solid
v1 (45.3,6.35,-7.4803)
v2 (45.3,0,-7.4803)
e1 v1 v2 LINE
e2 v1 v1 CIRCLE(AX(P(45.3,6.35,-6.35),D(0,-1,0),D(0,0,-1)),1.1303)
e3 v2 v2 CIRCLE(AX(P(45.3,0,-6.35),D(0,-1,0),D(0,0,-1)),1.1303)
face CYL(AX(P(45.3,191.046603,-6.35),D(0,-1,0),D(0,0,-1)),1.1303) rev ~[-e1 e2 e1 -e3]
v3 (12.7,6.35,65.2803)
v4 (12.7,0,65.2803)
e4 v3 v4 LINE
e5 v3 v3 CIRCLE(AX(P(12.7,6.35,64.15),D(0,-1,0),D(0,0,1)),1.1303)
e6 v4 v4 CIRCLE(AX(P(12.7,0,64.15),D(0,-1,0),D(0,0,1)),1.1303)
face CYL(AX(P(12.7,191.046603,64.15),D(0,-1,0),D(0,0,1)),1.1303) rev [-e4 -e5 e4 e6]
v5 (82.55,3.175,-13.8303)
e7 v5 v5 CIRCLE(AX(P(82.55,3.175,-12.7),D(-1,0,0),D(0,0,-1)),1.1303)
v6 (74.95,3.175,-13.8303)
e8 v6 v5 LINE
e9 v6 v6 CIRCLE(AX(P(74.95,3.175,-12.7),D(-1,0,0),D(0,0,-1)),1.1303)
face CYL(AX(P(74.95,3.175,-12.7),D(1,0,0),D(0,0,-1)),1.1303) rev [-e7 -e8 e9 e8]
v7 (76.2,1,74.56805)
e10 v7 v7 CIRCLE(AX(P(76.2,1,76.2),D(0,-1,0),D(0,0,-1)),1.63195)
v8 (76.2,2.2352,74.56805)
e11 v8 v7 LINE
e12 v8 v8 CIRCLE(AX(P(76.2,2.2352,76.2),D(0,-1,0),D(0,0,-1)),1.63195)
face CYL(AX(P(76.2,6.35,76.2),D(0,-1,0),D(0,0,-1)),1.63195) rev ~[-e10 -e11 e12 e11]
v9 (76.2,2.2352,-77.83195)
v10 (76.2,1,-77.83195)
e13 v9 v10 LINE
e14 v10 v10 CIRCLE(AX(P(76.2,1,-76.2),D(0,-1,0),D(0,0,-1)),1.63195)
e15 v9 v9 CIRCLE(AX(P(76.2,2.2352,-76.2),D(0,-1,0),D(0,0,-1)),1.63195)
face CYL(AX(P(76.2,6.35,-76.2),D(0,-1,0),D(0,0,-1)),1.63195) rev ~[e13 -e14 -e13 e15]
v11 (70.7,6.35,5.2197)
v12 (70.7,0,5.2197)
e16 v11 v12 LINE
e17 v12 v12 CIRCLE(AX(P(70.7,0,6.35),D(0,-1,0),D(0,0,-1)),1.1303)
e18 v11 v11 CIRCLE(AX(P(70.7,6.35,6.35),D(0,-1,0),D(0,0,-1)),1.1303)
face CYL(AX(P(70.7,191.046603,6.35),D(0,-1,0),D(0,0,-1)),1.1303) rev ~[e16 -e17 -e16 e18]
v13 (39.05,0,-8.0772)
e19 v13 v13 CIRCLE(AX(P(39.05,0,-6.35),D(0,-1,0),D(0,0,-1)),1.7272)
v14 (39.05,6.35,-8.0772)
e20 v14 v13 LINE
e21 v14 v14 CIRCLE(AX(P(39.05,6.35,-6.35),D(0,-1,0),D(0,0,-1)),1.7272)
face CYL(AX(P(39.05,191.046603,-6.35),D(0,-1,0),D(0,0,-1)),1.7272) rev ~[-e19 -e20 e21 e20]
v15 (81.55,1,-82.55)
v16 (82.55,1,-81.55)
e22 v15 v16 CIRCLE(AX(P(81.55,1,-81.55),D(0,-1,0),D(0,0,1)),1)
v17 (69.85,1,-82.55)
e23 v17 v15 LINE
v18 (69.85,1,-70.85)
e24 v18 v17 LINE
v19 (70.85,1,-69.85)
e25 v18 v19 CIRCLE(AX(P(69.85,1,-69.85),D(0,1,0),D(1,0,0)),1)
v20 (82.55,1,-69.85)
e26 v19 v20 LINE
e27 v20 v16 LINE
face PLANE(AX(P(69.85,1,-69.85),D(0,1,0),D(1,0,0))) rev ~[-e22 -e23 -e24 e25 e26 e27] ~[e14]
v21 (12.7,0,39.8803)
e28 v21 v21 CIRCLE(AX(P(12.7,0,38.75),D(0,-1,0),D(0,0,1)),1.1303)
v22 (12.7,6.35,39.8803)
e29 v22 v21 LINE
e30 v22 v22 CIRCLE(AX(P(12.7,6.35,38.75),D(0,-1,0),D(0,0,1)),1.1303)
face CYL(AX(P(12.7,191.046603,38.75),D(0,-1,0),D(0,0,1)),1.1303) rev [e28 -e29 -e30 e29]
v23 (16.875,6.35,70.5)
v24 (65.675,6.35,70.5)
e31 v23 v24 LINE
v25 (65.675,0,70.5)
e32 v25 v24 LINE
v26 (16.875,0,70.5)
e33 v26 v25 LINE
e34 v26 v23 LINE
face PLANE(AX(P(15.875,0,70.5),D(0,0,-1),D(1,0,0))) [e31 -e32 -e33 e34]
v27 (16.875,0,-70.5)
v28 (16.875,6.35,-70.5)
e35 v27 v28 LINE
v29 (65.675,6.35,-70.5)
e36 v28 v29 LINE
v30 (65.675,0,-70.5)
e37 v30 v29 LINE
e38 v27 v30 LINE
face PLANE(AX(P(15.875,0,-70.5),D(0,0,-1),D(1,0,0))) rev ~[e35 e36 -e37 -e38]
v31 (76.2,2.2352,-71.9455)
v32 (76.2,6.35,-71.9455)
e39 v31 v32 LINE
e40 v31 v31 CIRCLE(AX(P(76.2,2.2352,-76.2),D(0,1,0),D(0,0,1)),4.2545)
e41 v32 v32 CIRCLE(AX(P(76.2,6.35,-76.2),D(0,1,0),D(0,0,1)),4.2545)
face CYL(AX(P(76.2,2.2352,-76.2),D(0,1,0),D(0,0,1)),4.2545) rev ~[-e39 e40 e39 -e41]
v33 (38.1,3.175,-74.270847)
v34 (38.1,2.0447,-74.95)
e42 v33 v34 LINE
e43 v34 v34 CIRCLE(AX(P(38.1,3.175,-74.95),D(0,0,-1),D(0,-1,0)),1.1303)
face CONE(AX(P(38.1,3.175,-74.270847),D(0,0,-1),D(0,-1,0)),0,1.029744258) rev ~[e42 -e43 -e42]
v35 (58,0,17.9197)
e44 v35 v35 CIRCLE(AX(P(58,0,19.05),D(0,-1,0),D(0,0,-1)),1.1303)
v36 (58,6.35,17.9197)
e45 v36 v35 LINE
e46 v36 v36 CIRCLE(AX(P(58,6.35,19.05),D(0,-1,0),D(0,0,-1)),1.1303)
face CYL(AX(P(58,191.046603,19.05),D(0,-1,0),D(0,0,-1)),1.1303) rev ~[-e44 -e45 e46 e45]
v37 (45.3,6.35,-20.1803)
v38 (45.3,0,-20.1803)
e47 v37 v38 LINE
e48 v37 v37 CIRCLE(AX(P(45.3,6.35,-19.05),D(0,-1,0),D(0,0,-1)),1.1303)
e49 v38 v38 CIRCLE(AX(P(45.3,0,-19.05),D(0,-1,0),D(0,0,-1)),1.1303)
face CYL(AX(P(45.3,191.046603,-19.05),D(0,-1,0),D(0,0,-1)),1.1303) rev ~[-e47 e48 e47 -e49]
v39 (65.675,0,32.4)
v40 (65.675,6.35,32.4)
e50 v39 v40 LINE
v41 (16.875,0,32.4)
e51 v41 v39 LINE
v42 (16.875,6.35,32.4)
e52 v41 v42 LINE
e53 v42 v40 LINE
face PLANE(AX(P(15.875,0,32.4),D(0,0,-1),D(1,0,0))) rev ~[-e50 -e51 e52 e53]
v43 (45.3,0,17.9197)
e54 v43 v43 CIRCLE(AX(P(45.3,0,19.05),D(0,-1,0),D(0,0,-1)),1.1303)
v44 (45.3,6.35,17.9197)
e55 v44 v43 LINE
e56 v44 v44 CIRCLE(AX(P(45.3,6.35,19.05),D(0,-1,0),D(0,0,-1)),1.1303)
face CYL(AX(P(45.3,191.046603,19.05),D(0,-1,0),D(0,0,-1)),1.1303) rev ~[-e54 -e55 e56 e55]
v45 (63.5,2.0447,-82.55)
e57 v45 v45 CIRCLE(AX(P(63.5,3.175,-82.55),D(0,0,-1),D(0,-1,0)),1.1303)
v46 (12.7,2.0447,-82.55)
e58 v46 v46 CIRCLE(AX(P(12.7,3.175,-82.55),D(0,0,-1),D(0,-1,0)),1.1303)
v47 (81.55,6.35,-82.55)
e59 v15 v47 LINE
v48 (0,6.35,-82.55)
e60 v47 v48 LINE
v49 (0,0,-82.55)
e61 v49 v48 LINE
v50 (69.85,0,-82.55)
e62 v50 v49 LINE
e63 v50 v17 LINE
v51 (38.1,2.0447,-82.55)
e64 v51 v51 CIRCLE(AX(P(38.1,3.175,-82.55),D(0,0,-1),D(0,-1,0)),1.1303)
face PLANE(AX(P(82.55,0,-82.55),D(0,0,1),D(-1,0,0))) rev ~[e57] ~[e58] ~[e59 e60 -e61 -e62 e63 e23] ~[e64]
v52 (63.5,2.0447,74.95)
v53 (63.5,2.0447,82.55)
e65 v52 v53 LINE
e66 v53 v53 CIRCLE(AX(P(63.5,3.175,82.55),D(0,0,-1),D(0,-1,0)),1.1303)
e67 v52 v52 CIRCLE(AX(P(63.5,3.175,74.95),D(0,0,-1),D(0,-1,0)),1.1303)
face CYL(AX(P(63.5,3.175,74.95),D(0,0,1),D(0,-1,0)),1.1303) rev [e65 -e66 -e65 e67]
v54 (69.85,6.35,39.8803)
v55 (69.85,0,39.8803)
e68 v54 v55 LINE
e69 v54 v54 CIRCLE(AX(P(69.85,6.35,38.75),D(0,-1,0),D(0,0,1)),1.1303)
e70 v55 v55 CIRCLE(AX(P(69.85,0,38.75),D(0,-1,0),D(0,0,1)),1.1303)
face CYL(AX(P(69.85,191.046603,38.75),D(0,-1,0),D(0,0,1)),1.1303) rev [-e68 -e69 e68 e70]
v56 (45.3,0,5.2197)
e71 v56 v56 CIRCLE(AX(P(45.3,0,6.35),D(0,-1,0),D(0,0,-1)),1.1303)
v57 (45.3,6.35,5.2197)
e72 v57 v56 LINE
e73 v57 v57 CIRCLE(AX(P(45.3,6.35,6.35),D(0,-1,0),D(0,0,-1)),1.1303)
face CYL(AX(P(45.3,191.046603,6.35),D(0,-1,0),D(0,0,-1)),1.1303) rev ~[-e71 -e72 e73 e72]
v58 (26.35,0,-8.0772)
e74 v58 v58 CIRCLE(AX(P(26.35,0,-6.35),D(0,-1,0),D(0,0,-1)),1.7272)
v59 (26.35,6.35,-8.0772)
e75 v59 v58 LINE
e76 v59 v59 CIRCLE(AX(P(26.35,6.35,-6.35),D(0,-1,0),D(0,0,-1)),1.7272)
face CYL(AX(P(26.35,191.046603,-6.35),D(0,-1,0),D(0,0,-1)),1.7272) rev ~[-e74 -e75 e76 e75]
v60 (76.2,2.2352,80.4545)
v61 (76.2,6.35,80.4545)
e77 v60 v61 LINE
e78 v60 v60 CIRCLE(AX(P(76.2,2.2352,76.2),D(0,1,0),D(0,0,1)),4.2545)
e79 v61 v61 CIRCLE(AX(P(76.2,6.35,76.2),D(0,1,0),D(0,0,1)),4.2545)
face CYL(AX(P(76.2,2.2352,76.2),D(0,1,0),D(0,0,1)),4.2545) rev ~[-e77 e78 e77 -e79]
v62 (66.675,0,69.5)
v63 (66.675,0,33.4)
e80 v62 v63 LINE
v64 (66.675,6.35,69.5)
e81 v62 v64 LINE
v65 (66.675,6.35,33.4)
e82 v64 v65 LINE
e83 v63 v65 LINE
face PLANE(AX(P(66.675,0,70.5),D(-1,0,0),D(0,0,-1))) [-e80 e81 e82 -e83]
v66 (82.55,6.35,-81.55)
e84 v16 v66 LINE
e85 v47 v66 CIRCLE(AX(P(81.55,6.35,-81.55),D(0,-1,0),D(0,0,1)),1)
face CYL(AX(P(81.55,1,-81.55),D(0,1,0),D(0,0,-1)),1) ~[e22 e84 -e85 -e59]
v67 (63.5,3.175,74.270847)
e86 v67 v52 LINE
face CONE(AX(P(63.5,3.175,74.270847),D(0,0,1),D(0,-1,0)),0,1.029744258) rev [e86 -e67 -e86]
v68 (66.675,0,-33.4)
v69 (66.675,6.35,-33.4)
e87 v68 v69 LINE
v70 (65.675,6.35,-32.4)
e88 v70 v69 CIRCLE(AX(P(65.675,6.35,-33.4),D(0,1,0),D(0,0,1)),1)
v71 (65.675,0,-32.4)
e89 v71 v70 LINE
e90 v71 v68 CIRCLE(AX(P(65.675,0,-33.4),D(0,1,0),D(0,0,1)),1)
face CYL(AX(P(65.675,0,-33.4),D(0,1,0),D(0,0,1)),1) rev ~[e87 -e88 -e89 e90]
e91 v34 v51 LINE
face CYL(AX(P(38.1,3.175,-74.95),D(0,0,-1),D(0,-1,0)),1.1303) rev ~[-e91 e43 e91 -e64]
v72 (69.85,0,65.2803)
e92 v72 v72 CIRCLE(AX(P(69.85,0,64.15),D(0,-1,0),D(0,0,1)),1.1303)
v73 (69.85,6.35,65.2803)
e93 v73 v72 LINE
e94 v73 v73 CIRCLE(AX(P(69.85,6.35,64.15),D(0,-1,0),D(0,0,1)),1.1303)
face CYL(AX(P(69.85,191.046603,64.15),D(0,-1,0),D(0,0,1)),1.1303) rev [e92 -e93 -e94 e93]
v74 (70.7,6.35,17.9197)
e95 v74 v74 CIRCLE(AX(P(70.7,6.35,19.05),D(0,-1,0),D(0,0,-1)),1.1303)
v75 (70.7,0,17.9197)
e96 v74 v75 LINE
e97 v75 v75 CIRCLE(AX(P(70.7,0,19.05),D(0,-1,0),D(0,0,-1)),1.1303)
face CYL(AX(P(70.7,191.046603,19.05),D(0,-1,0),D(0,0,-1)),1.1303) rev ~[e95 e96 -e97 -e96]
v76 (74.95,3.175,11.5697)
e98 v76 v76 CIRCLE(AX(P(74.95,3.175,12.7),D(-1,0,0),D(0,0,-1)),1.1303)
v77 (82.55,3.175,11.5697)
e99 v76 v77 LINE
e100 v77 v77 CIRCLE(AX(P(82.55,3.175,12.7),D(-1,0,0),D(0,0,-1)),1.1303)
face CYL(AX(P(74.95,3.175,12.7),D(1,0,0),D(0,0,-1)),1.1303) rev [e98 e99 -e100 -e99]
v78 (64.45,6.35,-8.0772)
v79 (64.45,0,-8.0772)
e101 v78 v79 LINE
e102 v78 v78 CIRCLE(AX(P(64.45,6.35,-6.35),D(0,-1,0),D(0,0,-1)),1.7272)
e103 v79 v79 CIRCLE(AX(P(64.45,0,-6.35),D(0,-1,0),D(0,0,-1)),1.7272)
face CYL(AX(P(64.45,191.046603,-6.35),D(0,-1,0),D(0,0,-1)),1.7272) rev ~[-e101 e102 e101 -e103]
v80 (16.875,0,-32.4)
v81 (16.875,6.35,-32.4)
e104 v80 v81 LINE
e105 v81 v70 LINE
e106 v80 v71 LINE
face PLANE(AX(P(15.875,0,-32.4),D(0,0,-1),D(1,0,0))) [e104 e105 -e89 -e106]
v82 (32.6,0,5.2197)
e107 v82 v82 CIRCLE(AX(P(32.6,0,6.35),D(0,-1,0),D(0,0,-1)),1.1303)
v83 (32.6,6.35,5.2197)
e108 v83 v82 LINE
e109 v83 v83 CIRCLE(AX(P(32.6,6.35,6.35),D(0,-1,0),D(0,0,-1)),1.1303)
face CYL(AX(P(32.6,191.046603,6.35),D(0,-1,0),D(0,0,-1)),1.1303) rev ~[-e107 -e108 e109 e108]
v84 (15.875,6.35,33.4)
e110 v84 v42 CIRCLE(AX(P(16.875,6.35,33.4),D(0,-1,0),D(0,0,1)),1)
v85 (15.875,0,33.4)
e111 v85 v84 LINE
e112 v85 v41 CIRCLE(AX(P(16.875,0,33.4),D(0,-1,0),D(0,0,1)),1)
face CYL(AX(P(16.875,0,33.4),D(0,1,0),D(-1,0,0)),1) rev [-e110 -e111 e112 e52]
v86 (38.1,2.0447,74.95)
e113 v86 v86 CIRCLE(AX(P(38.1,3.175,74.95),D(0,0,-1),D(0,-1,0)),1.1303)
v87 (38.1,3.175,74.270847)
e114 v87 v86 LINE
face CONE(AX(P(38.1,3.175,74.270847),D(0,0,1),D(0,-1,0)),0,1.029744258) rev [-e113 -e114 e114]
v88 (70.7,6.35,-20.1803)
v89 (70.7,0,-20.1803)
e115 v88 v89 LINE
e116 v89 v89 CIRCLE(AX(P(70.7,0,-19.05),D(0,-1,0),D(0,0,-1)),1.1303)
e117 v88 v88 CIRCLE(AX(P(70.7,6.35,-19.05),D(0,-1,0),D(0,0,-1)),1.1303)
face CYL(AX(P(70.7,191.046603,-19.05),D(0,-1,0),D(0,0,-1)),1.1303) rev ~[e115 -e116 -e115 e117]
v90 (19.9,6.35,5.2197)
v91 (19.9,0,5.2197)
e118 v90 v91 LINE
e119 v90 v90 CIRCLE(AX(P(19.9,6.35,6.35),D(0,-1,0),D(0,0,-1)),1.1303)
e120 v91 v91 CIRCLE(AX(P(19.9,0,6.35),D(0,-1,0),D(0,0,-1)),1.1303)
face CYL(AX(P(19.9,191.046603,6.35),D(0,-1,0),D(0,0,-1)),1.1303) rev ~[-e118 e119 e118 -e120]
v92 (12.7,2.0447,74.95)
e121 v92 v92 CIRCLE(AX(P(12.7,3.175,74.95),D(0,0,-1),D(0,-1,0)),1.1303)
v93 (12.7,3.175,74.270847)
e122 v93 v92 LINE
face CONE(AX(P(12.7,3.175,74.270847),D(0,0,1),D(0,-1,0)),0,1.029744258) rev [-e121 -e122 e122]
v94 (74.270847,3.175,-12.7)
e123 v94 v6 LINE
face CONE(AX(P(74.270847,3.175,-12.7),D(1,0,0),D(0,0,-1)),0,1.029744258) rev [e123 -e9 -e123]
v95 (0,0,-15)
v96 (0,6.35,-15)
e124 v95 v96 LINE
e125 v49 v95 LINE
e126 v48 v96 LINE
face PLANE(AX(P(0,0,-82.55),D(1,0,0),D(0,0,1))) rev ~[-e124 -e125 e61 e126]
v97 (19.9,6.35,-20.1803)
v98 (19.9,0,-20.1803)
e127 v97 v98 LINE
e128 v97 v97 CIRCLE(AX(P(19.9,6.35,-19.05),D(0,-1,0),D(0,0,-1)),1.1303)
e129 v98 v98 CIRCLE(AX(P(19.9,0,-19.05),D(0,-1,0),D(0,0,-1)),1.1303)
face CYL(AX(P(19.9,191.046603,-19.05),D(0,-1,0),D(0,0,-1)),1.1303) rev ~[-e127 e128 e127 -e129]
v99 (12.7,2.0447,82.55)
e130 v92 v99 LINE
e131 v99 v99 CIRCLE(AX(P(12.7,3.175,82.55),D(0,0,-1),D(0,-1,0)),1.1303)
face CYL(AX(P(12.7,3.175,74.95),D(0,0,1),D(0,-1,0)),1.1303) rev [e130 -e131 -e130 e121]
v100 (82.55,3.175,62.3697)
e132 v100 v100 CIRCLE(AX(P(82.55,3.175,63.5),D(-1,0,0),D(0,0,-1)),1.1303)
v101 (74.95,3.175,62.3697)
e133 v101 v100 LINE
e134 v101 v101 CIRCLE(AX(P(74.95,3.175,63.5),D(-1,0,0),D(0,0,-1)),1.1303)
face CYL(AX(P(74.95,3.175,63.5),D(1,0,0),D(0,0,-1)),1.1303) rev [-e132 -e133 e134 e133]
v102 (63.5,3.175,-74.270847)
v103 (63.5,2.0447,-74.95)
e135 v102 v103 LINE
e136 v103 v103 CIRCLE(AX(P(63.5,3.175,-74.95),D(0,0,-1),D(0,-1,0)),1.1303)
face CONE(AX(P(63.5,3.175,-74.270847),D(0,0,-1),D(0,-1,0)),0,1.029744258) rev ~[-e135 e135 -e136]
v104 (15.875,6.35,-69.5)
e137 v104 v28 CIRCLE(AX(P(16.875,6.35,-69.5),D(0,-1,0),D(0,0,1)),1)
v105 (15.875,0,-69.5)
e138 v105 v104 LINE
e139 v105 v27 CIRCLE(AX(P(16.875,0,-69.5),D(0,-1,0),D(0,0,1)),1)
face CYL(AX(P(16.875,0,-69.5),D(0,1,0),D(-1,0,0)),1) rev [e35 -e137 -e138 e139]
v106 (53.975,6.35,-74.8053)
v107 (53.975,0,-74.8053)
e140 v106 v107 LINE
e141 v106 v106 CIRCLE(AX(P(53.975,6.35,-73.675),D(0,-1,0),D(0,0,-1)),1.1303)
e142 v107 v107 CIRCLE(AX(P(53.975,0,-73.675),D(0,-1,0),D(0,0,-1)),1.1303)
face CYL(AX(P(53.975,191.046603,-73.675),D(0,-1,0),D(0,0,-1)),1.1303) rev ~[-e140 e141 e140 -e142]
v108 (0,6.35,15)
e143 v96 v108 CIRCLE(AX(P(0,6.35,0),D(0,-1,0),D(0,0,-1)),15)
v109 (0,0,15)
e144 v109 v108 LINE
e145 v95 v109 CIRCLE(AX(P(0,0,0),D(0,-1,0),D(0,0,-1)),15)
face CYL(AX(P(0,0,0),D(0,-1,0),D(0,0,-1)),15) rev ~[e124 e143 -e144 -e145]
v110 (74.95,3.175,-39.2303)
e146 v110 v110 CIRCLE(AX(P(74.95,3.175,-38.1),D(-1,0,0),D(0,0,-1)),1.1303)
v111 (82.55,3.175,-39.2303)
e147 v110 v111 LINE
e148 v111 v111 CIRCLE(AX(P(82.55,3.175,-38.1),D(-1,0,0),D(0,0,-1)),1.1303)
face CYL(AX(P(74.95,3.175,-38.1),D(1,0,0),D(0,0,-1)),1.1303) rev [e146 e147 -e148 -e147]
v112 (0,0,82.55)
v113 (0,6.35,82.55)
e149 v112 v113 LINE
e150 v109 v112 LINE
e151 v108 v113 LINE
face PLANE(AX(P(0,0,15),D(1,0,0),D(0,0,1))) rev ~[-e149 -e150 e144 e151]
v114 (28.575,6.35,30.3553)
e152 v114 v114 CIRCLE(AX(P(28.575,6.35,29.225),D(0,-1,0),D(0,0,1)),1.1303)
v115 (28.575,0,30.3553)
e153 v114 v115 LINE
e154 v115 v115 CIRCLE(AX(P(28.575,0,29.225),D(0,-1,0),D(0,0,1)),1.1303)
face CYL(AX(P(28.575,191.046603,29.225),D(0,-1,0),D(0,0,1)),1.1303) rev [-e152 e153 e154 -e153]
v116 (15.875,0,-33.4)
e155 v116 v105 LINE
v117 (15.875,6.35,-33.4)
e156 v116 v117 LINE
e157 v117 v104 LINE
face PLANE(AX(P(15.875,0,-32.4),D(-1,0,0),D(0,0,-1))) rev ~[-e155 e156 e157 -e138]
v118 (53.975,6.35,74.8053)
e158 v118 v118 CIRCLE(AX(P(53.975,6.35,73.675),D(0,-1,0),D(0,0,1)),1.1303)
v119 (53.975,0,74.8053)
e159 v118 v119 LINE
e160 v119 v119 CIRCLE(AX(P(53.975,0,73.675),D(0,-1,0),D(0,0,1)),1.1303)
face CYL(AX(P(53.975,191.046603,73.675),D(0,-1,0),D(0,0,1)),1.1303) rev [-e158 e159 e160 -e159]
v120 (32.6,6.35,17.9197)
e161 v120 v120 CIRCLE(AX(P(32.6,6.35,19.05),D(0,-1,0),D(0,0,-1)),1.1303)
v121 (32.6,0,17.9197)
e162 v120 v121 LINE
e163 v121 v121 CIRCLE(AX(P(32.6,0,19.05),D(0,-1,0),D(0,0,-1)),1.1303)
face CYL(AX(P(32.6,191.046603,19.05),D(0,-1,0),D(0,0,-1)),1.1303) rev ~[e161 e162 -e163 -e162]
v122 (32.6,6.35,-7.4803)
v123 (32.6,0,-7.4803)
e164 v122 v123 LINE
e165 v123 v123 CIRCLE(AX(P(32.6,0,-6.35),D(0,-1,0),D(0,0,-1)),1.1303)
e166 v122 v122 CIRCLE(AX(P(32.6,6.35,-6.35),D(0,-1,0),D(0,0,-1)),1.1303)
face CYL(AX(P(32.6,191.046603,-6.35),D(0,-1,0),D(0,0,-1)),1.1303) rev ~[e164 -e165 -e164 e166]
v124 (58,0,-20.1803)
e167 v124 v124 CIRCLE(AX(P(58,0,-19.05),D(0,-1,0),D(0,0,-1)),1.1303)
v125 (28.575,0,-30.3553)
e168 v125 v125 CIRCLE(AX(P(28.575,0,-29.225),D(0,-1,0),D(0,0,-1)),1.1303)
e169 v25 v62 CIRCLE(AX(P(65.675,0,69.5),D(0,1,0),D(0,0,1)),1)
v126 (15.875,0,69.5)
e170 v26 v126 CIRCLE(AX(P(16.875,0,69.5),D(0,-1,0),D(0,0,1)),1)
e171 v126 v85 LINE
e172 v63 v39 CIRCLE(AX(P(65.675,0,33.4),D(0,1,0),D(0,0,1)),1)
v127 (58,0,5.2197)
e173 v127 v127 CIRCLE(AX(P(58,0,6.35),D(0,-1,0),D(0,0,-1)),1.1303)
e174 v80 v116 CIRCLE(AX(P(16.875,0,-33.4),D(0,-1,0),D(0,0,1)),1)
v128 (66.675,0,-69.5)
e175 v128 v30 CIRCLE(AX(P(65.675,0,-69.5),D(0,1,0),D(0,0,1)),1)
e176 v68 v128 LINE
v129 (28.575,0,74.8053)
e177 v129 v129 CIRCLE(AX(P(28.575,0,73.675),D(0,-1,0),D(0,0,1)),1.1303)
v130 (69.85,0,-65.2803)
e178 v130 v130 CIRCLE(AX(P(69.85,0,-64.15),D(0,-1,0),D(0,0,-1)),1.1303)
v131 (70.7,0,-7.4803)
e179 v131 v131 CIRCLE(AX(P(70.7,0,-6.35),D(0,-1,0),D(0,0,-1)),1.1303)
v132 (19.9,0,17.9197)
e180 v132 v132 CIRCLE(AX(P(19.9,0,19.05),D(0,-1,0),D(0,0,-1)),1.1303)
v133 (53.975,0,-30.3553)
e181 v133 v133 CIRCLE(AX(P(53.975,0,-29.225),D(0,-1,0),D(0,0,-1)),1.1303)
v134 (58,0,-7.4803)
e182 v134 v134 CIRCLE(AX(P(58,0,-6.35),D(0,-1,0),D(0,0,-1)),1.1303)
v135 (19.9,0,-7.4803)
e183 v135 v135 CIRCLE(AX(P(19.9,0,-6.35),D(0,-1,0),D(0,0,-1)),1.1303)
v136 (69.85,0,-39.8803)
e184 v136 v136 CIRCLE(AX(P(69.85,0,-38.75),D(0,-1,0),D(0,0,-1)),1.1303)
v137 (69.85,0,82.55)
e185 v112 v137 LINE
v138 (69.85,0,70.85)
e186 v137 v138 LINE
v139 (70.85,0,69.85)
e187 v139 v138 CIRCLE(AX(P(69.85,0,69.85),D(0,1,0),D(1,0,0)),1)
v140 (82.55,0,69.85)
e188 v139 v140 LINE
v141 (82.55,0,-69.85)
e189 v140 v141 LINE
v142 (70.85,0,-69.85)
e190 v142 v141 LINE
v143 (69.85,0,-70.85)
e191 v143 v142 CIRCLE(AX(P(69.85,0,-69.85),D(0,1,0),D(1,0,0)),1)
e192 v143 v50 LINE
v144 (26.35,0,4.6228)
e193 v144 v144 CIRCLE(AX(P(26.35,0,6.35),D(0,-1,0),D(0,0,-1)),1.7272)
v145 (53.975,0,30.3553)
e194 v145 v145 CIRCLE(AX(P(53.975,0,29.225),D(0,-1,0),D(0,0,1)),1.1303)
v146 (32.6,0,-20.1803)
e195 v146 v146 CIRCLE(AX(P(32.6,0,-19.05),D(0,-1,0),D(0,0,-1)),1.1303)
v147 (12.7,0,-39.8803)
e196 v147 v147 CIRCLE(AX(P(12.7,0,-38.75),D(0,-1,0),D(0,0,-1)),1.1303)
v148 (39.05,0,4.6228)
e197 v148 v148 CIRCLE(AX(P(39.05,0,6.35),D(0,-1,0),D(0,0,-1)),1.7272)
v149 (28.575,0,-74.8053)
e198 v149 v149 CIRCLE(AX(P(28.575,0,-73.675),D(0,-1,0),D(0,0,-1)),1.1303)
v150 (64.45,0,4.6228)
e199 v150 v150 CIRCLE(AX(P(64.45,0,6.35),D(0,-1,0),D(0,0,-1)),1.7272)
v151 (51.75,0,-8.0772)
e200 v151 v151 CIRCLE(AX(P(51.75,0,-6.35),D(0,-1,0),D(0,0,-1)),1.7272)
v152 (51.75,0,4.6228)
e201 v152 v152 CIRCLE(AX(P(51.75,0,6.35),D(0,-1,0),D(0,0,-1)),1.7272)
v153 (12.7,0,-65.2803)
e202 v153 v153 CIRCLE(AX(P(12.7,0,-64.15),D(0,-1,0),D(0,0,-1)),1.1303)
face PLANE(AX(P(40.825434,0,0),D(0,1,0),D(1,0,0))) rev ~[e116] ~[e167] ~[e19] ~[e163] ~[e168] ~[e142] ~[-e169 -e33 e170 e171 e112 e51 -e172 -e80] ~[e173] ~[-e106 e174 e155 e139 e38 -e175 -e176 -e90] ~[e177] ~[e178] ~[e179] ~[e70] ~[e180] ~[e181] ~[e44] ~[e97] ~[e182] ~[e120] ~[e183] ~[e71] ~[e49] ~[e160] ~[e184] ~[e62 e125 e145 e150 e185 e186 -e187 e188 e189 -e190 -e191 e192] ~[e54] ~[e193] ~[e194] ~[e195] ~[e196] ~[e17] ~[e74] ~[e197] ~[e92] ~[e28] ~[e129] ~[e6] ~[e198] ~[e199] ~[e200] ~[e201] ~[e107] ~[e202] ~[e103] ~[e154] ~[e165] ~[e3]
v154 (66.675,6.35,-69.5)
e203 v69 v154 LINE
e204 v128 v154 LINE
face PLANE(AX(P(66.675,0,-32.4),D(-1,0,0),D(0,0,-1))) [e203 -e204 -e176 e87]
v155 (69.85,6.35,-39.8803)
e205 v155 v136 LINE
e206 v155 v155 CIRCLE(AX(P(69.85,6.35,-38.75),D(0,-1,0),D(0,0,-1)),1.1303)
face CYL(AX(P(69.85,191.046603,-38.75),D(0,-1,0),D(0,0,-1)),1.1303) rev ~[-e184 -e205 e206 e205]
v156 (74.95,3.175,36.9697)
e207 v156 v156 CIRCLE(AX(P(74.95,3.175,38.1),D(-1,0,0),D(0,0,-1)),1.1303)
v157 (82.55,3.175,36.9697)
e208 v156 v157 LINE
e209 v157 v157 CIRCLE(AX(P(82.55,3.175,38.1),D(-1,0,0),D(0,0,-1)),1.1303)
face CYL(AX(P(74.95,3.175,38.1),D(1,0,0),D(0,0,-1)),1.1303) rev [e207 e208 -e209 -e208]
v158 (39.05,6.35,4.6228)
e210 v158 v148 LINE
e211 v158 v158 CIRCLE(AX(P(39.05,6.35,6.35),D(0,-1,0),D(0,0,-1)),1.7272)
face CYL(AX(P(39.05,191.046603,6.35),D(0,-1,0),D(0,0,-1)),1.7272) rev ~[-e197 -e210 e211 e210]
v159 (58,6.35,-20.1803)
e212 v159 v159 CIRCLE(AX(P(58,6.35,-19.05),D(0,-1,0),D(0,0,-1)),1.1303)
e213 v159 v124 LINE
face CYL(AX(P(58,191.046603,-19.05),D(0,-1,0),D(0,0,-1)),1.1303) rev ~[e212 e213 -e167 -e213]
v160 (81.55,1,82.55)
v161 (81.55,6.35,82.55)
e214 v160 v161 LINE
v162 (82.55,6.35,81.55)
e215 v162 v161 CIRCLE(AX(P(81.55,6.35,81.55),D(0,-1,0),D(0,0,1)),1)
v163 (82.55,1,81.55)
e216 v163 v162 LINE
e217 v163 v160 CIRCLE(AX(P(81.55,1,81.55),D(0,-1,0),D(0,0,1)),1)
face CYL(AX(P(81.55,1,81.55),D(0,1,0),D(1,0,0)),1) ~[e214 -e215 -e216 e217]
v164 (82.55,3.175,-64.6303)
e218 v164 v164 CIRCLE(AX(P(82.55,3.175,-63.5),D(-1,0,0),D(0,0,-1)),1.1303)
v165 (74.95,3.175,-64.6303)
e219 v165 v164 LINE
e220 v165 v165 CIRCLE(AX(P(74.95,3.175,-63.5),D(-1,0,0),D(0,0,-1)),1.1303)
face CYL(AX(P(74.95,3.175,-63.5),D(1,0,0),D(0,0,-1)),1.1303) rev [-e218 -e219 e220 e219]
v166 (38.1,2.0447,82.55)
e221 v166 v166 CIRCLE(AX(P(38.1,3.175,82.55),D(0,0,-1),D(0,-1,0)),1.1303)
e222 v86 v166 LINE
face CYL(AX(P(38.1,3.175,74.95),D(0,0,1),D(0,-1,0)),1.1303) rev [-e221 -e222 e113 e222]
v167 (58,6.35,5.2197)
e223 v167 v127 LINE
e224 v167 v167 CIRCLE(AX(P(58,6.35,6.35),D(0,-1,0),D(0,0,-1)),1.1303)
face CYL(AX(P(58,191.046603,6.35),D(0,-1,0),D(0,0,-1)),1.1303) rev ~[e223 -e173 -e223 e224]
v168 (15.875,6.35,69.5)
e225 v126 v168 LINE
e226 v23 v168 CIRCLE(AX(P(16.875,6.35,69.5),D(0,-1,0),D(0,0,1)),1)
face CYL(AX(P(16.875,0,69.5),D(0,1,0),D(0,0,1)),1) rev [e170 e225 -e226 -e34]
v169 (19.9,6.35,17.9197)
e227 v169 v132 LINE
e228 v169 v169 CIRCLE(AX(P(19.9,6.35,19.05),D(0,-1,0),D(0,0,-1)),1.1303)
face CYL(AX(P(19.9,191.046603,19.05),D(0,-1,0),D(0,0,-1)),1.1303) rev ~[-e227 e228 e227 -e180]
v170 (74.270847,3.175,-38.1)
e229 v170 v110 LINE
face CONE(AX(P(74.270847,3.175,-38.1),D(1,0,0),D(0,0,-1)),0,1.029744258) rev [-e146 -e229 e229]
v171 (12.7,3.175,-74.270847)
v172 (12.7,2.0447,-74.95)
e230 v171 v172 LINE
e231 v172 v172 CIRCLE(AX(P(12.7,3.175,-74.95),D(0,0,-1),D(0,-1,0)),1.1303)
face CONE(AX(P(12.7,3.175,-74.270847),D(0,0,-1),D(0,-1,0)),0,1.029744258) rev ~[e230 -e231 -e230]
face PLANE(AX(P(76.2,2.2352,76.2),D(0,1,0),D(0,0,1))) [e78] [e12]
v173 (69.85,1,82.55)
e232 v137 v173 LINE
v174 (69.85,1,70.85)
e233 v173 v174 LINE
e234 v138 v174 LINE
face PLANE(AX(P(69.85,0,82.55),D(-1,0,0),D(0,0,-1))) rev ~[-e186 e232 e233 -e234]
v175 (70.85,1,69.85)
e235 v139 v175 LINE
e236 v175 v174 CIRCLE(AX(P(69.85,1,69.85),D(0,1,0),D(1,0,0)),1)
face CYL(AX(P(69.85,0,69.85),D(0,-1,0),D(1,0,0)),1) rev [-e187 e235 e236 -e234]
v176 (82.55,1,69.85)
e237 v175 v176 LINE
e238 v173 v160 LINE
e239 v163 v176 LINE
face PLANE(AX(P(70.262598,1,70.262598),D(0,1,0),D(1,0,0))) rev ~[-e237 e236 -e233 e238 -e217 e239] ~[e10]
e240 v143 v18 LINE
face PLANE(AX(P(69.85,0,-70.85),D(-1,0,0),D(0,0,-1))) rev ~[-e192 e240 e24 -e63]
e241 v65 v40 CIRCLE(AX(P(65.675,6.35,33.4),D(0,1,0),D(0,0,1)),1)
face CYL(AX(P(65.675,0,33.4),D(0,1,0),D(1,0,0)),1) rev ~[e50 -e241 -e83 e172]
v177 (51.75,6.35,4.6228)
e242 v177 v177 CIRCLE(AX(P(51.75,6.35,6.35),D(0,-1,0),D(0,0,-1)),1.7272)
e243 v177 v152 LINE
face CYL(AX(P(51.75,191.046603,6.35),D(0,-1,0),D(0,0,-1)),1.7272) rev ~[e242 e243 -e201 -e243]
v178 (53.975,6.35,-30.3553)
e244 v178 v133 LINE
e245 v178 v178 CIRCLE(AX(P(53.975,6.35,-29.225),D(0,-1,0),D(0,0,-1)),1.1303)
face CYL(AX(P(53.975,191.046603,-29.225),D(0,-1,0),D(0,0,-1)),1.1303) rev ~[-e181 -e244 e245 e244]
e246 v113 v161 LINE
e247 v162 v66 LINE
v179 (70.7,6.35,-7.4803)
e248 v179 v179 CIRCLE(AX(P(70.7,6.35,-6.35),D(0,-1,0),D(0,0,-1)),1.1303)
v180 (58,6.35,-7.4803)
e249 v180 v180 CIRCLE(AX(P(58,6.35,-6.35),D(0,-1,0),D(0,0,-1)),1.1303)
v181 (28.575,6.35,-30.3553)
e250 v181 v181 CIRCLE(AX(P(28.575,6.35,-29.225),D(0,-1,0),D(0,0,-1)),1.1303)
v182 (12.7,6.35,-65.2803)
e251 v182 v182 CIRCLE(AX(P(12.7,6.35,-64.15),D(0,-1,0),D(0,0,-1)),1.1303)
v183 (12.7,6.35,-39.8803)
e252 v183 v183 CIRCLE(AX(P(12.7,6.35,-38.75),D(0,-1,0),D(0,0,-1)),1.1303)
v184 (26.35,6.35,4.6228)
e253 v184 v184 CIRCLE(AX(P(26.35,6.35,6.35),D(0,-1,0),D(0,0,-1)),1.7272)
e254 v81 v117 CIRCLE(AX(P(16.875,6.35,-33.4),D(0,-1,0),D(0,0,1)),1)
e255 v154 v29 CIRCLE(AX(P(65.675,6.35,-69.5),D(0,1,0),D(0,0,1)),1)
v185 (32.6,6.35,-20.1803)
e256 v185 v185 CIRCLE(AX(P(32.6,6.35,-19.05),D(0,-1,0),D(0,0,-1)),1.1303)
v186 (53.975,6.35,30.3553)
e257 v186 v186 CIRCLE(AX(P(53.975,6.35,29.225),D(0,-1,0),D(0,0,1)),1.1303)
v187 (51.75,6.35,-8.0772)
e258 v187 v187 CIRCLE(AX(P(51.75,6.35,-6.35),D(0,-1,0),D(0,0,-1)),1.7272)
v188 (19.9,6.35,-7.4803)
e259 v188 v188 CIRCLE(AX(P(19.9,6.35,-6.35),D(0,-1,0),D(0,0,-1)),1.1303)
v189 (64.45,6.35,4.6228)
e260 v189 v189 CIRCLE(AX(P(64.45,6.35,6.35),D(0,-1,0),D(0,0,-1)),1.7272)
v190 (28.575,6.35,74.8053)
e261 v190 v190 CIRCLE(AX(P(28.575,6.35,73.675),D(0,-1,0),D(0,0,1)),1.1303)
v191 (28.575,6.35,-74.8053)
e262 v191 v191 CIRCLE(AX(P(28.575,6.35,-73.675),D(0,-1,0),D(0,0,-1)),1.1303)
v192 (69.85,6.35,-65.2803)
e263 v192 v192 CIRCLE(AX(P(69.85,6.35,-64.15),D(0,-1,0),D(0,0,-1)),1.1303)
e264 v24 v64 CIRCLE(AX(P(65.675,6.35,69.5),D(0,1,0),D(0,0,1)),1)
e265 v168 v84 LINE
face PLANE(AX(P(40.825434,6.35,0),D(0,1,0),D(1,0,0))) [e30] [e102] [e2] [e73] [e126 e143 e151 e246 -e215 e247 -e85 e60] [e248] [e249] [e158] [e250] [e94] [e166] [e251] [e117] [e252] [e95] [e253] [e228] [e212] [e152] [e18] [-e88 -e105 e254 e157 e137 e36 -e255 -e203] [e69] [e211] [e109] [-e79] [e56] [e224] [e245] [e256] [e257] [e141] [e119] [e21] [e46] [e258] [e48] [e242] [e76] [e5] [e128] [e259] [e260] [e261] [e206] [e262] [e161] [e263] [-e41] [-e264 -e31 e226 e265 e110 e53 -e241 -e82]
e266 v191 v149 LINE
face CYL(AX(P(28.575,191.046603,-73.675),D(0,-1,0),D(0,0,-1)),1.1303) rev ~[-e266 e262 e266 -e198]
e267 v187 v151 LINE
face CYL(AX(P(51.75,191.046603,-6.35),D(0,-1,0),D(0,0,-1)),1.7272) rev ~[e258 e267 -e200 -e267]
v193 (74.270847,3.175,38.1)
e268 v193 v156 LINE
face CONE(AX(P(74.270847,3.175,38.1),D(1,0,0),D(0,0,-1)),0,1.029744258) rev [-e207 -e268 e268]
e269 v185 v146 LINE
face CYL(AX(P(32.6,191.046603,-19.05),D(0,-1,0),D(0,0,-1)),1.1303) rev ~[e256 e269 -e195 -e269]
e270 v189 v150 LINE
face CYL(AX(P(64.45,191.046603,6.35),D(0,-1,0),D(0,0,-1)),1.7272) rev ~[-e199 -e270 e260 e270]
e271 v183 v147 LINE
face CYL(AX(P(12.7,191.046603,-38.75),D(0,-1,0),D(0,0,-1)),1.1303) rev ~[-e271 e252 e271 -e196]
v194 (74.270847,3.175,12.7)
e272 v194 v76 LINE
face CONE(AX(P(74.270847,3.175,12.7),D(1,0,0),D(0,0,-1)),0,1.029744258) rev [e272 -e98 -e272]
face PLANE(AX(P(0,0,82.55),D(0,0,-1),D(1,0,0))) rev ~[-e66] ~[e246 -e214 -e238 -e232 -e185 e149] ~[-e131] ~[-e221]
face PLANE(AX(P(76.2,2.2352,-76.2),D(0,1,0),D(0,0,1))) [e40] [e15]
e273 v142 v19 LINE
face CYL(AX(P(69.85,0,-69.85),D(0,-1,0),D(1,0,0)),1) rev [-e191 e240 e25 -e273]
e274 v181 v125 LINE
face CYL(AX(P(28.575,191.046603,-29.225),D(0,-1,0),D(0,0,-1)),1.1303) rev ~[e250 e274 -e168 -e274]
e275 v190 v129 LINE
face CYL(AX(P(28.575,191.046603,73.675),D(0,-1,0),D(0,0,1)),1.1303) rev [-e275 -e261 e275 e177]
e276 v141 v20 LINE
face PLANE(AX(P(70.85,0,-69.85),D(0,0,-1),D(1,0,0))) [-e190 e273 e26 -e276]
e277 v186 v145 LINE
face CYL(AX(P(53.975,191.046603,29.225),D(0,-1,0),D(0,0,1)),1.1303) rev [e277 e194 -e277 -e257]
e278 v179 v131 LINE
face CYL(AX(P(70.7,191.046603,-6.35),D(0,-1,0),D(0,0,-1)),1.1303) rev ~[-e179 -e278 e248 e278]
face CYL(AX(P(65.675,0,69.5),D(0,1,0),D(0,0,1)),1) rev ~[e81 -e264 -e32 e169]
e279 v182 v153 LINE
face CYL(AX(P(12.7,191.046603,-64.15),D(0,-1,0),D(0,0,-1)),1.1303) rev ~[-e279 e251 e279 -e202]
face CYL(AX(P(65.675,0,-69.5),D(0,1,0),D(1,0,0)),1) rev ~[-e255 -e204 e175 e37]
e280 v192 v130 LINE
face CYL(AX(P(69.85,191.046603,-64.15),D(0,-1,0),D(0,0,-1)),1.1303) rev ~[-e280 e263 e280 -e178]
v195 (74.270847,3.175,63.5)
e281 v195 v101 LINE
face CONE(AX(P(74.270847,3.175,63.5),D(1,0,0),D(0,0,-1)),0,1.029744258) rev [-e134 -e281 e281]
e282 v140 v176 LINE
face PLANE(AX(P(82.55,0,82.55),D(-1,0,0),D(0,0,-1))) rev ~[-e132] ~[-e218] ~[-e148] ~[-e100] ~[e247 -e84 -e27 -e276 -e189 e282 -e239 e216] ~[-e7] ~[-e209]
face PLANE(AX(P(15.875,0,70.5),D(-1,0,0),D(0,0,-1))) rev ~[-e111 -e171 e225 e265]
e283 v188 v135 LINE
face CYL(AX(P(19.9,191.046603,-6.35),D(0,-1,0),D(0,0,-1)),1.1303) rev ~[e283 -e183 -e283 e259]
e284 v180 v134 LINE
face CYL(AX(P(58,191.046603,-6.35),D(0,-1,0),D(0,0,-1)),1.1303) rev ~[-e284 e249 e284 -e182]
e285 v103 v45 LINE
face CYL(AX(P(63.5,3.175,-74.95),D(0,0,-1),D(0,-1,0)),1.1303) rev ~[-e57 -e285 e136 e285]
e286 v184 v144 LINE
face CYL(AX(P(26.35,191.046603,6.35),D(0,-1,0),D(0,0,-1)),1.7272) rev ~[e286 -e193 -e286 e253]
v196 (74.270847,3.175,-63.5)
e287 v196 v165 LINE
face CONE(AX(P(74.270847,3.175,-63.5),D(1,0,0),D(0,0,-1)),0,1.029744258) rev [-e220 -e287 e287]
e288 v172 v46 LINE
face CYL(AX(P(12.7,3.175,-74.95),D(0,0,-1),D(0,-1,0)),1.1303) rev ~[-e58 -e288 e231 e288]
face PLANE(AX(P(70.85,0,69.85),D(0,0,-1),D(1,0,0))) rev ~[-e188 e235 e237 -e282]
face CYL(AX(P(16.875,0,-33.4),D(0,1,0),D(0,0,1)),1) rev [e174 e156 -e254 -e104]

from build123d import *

# Parameters (mm, degrees)
BOSS_EXTRUDE1_DEPTH                            = 6.35
LPATTERN1_COUNT                                = 6
LPATTERN1_PITCH                                = 25.4
LPATTERN2_COUNT                                = 3
LPATTERN2_PITCH                                = 25.4
SKETCH5_W                                      = 50.8
SKETCH5_H                                      = 38.1
FEEDTHROUGHS_DEPTH                             = 6.35
F_4_40_TAPPED_HOLE_Y_D                         = 2.2606
FILLET1_R                                      = 1
CBORE_FOR_4_SOCKET_HEAD_CAP_SCREW1_D           = 3.2639
CBORE_FOR_4_SOCKET_HEAD_CAP_SCREW1_DEPTH       = 8.89
CBORE_FOR_4_SOCKET_HEAD_CAP_SCREW1_CBORE_D     = 8.509
CBORE_FOR_4_SOCKET_HEAD_CAP_SCREW1_CBORE_DEPTH = 4.1148
CBORE_FOR_4_SOCKET_HEAD_CAP_SCREW1_TIP         = 0.980574487
F_8_32_TAPPED_HEAT_STRAP_D                     = 3.4544
F_4_40_TAPPED_GRID_D                           = 2.2606
LPATTERN4_COUNT                                = 6
LPATTERN4_PITCH                                = 12.7
LPATTERN4_COUNT_DIR2                           = 3
LPATTERN4_PITCH_DIR2                           = 12.7
LPATTERN5_COUNT                                = 2
LPATTERN5_PITCH                                = 12.7
LPATTERN5_COUNT_DIR2                           = 5
LPATTERN5_PITCH_DIR2                           = 12.7
BAR_CUTOUTS_R                                  = 1
BAR_CUTOUTS_W                                  = 12.7
BAR_CUTOUTS_H                                  = 12.7
CUT_EXTRUDE1_DEPTH                             = 1
FILLET2_R                                      = 1


with BuildPart() as part:
    # Sketch1 → Boss-Extrude1 (new body)
    with BuildSketch(Plane(origin=(0, 0, 0), x_dir=(1, 0, 0), z_dir=(0, 1, 0))):
        with BuildLine():
            Line((0, -15), (0, -82.55))
            Line((0, -82.55), (82.55, -82.55))
            Line((82.55, -82.55), (82.55, 82.55))
            Line((82.55, 82.55), (0, 82.55))
            Line((0, 82.55), (0, 15))
            ThreePointArc((0, 15), (15, 0), (0, -15))
        make_face()
    extrude(amount=BOSS_EXTRUDE1_DEPTH)

    # Sketch2 → #4-40 Tapped Hole - Z (revolve, cut)
    with BuildSketch(Plane(origin=(82.55, 3.175, 63.5), x_dir=(0, 0, -1), z_dir=(0, 1, 0))):
        Polygon((0, 0), (0, 8.279152758), (1.1303, 7.6), (1.1303, 0), align=None)
    f_4_40_tapped_hole_z = revolve(axis=Axis((88.9, 3.175, 63.5), (-1, 0, 0)), mode=Mode.SUBTRACT)

    # LPattern1: #4-40 Tapped Hole - Z ×6
    with Locations(*[(0, 0, -i * LPATTERN1_PITCH) for i in range(1, LPATTERN1_COUNT)]):
        add(f_4_40_tapped_hole_z, mode=Mode.SUBTRACT)

    # Sketch3 → #4-40 Tapped Hole - X (revolve, cut)
    with BuildSketch(Plane(origin=(63.5, 3.175, 82.55), x_dir=(0, -1, 0), z_dir=(1, 0, 0))):
        Polygon((0, 0), (0, 8.279152758), (1.1303, 7.6), (1.1303, 0), align=None)
    f_4_40_tapped_hole_x = revolve(axis=Axis((63.5, 3.175, 88.9), (0, 0, -1)), mode=Mode.SUBTRACT)

    # LPattern2: #4-40 Tapped Hole - X ×3
    with Locations(*[(-i * LPATTERN2_PITCH, 0, 0) for i in range(1, LPATTERN2_COUNT)]):
        add(f_4_40_tapped_hole_x, mode=Mode.SUBTRACT)

    # Mirror1: #4-40 Tapped Hole - X across plane
    add(f_4_40_tapped_hole_x.mirror(Plane.XY), mode=Mode.SUBTRACT)

    # Mirror1 copy 1 sketch → Mirror1 copy 1 (revolve, cut)
    with BuildSketch(Plane(origin=(38.1, 3.175, -82.55), x_dir=(0, -1, 0), z_dir=(1, 0, 0))):
        Polygon((0, 0), (0, -8.279152758), (1.1303, -7.6), (1.1303, 0), align=None)
    revolve(axis=Axis((38.1, 3.175, -88.9), (0, 0, -1)), mode=Mode.SUBTRACT)

    # Mirror1 copy 2 sketch → Mirror1 copy 2 (revolve, cut)
    with BuildSketch(Plane(origin=(12.7, 3.175, -82.55), x_dir=(0, -1, 0), z_dir=(1, 0, 0))):
        Polygon((0, 0), (0, -8.279152758), (1.1303, -7.6), (1.1303, 0), align=None)
    revolve(axis=Axis((12.7, 3.175, -88.9), (0, 0, -1)), mode=Mode.SUBTRACT)

    # Sketch5 → Feedthroughs (cut)
    with BuildSketch(Plane(origin=(0, 0, 0), x_dir=(1, 0, 0), z_dir=(0, 1, 0))):
        with Locations((41.275, 51.45)):
            Rectangle(SKETCH5_W, SKETCH5_H)
        with Locations((41.275, -51.45)):
            Rectangle(SKETCH5_W, SKETCH5_H)
    extrude(amount=FEEDTHROUGHS_DEPTH, mode=Mode.SUBTRACT)

    # #4-40 Tapped Hole - Y (through all)
    with Locations(Plane(origin=(53.975, 6.35, -73.675), x_dir=(0, 0, 1), z_dir=(0, 1, 0))):
        with Locations((0, 0), (9.525, 15.875), (44.45, 0), (44.45, -25.4), (9.525, -41.275), (0, -25.4), (34.925, -41.275), (34.925, 15.875)):
            f_4_40_tapped_hole_y = Hole(F_4_40_TAPPED_HOLE_Y_D / 2)

    # #4-40 Tapped Hole - Y Mirror: #4-40 Tapped Hole - Y across plane
    add(f_4_40_tapped_hole_y.mirror(Plane.XY), mode=Mode.SUBTRACT)

    # Fillet1
    fillet1_edges = [part.edges().sort_by_distance(p)[0] for p in [
        (15.875, 3.175, -70.5),
        (15.875, 3.175, -32.4),
        (66.675, 3.175, -32.4),
        (66.675, 3.175, -70.5),
        (15.875, 3.175, 70.5),
        (66.675, 3.175, 70.5),
        (66.675, 3.175, 32.4),
        (15.875, 3.175, 32.4),
    ]]
    fillet(fillet1_edges, radius=FILLET1_R)

    # CBORE for #4 Socket Head Cap Screw1
    with Locations(Plane(origin=(76.2, 6.35, -76.2), x_dir=(0, 0, 1), z_dir=(0, 1, 0))):
        with Locations((0, 0), (152.4, 0)):
            CounterBoreHole(CBORE_FOR_4_SOCKET_HEAD_CAP_SCREW1_D / 2, CBORE_FOR_4_SOCKET_HEAD_CAP_SCREW1_CBORE_D / 2, CBORE_FOR_4_SOCKET_HEAD_CAP_SCREW1_CBORE_DEPTH, depth=CBORE_FOR_4_SOCKET_HEAD_CAP_SCREW1_DEPTH)
            with Locations((0, 0, -(CBORE_FOR_4_SOCKET_HEAD_CAP_SCREW1_DEPTH + CBORE_FOR_4_SOCKET_HEAD_CAP_SCREW1_TIP / 2))):  # 118° drill point
                Cone(0, CBORE_FOR_4_SOCKET_HEAD_CAP_SCREW1_D / 2, CBORE_FOR_4_SOCKET_HEAD_CAP_SCREW1_TIP, mode=Mode.SUBTRACT)

    # #8-32 Tapped Heat strap (through all)
    with Locations(Plane(origin=(26.35, 6.35, -6.35), x_dir=(0, 0, 1), z_dir=(0, 1, 0))):
        with Locations((0, 0), (0, 12.7), (0, 25.4), (0, 38.1), (12.7, 38.1), (12.7, 25.4), (12.7, 12.7), (12.7, 0)):
            Hole(F_8_32_TAPPED_HEAT_STRAP_D / 2)

    # #4-40 Tapped Grid (through all)
    with Locations(Plane(origin=(70.7, 6.35, -6.35), x_dir=(0, 0, 1), z_dir=(0, 1, 0))):
        with Locations((0, 0)):
            f_4_40_tapped_grid = Hole(F_4_40_TAPPED_GRID_D / 2)

    # LPattern4: 4-40 Tapped Grid 6 × 3, 3 skipped
    with Locations(*[(-i * LPATTERN4_PITCH, 0, j * LPATTERN4_PITCH_DIR2) for i in range(LPATTERN4_COUNT) for j in range(LPATTERN4_COUNT_DIR2) if (i, j) not in ((0, 0), (5, 0), (5, 1), (5, 2))]):
        add(f_4_40_tapped_grid, mode=Mode.SUBTRACT)

    # LPattern5: 4-40 Tapped Grid 2 × 5, 4 skipped
    with Locations(*[(-j * LPATTERN5_PITCH_DIR2, 0, -i * LPATTERN5_PITCH) for i in range(LPATTERN5_COUNT) for j in range(LPATTERN5_COUNT_DIR2) if (i, j) not in ((0, 0), (0, 1), (0, 2), (0, 3), (0, 4))]):
        add(f_4_40_tapped_grid, mode=Mode.SUBTRACT)

    # Bar_cutouts → Cut-Extrude1 (cut)
    with BuildSketch(Plane(origin=(0, 0, 0), x_dir=(1, 0, 0), z_dir=(0, 1, 0))):
        with Locations((69.85, 69.85)):
            Circle(BAR_CUTOUTS_R)
        with Locations((76.2, 76.2)):
            Rectangle(BAR_CUTOUTS_W, BAR_CUTOUTS_H)
        with BuildLine():
            ThreePointArc((70.85, 69.85), (70.557106781, 70.557106781), (69.85, 70.85))
            Line((69.85, 70.85), (69.85, 69.85))
            Line((69.85, 69.85), (70.85, 69.85))
        make_face()
        with BuildLine():
            Line((69.85, 69.85), (69.85, 70.85))
            ThreePointArc((69.85, 70.85), (69.142893219, 69.142893219), (70.85, 69.85))
            Line((70.85, 69.85), (69.85, 69.85))
        make_face()
        with BuildLine():
            ThreePointArc((69.85, -70.85), (70.557106781, -70.557106781), (70.85, -69.85))
            Line((70.85, -69.85), (69.85, -69.85))
            Line((69.85, -69.85), (69.85, -70.85))
        make_face()
        with BuildLine():
            Line((69.85, -69.85), (70.85, -69.85))
            ThreePointArc((70.85, -69.85), (69.142893219, -69.142893219), (69.85, -70.85))
            Line((69.85, -70.85), (69.85, -69.85))
        make_face()
        with Locations((69.85, -69.85)):
            Circle(BAR_CUTOUTS_R)
        with Locations((76.2, -76.2)):
            Rectangle(BAR_CUTOUTS_W, BAR_CUTOUTS_H)
    extrude(amount=CUT_EXTRUDE1_DEPTH, mode=Mode.SUBTRACT)

    # Fillet2
    fillet2_edges = [part.edges().sort_by_distance(p)[0] for p in [
        (82.55, 3.675, -82.55),
        (82.55, 3.675, 82.55),
    ]]
    fillet(fillet2_edges, radius=FILLET2_R)


solid = part.part
